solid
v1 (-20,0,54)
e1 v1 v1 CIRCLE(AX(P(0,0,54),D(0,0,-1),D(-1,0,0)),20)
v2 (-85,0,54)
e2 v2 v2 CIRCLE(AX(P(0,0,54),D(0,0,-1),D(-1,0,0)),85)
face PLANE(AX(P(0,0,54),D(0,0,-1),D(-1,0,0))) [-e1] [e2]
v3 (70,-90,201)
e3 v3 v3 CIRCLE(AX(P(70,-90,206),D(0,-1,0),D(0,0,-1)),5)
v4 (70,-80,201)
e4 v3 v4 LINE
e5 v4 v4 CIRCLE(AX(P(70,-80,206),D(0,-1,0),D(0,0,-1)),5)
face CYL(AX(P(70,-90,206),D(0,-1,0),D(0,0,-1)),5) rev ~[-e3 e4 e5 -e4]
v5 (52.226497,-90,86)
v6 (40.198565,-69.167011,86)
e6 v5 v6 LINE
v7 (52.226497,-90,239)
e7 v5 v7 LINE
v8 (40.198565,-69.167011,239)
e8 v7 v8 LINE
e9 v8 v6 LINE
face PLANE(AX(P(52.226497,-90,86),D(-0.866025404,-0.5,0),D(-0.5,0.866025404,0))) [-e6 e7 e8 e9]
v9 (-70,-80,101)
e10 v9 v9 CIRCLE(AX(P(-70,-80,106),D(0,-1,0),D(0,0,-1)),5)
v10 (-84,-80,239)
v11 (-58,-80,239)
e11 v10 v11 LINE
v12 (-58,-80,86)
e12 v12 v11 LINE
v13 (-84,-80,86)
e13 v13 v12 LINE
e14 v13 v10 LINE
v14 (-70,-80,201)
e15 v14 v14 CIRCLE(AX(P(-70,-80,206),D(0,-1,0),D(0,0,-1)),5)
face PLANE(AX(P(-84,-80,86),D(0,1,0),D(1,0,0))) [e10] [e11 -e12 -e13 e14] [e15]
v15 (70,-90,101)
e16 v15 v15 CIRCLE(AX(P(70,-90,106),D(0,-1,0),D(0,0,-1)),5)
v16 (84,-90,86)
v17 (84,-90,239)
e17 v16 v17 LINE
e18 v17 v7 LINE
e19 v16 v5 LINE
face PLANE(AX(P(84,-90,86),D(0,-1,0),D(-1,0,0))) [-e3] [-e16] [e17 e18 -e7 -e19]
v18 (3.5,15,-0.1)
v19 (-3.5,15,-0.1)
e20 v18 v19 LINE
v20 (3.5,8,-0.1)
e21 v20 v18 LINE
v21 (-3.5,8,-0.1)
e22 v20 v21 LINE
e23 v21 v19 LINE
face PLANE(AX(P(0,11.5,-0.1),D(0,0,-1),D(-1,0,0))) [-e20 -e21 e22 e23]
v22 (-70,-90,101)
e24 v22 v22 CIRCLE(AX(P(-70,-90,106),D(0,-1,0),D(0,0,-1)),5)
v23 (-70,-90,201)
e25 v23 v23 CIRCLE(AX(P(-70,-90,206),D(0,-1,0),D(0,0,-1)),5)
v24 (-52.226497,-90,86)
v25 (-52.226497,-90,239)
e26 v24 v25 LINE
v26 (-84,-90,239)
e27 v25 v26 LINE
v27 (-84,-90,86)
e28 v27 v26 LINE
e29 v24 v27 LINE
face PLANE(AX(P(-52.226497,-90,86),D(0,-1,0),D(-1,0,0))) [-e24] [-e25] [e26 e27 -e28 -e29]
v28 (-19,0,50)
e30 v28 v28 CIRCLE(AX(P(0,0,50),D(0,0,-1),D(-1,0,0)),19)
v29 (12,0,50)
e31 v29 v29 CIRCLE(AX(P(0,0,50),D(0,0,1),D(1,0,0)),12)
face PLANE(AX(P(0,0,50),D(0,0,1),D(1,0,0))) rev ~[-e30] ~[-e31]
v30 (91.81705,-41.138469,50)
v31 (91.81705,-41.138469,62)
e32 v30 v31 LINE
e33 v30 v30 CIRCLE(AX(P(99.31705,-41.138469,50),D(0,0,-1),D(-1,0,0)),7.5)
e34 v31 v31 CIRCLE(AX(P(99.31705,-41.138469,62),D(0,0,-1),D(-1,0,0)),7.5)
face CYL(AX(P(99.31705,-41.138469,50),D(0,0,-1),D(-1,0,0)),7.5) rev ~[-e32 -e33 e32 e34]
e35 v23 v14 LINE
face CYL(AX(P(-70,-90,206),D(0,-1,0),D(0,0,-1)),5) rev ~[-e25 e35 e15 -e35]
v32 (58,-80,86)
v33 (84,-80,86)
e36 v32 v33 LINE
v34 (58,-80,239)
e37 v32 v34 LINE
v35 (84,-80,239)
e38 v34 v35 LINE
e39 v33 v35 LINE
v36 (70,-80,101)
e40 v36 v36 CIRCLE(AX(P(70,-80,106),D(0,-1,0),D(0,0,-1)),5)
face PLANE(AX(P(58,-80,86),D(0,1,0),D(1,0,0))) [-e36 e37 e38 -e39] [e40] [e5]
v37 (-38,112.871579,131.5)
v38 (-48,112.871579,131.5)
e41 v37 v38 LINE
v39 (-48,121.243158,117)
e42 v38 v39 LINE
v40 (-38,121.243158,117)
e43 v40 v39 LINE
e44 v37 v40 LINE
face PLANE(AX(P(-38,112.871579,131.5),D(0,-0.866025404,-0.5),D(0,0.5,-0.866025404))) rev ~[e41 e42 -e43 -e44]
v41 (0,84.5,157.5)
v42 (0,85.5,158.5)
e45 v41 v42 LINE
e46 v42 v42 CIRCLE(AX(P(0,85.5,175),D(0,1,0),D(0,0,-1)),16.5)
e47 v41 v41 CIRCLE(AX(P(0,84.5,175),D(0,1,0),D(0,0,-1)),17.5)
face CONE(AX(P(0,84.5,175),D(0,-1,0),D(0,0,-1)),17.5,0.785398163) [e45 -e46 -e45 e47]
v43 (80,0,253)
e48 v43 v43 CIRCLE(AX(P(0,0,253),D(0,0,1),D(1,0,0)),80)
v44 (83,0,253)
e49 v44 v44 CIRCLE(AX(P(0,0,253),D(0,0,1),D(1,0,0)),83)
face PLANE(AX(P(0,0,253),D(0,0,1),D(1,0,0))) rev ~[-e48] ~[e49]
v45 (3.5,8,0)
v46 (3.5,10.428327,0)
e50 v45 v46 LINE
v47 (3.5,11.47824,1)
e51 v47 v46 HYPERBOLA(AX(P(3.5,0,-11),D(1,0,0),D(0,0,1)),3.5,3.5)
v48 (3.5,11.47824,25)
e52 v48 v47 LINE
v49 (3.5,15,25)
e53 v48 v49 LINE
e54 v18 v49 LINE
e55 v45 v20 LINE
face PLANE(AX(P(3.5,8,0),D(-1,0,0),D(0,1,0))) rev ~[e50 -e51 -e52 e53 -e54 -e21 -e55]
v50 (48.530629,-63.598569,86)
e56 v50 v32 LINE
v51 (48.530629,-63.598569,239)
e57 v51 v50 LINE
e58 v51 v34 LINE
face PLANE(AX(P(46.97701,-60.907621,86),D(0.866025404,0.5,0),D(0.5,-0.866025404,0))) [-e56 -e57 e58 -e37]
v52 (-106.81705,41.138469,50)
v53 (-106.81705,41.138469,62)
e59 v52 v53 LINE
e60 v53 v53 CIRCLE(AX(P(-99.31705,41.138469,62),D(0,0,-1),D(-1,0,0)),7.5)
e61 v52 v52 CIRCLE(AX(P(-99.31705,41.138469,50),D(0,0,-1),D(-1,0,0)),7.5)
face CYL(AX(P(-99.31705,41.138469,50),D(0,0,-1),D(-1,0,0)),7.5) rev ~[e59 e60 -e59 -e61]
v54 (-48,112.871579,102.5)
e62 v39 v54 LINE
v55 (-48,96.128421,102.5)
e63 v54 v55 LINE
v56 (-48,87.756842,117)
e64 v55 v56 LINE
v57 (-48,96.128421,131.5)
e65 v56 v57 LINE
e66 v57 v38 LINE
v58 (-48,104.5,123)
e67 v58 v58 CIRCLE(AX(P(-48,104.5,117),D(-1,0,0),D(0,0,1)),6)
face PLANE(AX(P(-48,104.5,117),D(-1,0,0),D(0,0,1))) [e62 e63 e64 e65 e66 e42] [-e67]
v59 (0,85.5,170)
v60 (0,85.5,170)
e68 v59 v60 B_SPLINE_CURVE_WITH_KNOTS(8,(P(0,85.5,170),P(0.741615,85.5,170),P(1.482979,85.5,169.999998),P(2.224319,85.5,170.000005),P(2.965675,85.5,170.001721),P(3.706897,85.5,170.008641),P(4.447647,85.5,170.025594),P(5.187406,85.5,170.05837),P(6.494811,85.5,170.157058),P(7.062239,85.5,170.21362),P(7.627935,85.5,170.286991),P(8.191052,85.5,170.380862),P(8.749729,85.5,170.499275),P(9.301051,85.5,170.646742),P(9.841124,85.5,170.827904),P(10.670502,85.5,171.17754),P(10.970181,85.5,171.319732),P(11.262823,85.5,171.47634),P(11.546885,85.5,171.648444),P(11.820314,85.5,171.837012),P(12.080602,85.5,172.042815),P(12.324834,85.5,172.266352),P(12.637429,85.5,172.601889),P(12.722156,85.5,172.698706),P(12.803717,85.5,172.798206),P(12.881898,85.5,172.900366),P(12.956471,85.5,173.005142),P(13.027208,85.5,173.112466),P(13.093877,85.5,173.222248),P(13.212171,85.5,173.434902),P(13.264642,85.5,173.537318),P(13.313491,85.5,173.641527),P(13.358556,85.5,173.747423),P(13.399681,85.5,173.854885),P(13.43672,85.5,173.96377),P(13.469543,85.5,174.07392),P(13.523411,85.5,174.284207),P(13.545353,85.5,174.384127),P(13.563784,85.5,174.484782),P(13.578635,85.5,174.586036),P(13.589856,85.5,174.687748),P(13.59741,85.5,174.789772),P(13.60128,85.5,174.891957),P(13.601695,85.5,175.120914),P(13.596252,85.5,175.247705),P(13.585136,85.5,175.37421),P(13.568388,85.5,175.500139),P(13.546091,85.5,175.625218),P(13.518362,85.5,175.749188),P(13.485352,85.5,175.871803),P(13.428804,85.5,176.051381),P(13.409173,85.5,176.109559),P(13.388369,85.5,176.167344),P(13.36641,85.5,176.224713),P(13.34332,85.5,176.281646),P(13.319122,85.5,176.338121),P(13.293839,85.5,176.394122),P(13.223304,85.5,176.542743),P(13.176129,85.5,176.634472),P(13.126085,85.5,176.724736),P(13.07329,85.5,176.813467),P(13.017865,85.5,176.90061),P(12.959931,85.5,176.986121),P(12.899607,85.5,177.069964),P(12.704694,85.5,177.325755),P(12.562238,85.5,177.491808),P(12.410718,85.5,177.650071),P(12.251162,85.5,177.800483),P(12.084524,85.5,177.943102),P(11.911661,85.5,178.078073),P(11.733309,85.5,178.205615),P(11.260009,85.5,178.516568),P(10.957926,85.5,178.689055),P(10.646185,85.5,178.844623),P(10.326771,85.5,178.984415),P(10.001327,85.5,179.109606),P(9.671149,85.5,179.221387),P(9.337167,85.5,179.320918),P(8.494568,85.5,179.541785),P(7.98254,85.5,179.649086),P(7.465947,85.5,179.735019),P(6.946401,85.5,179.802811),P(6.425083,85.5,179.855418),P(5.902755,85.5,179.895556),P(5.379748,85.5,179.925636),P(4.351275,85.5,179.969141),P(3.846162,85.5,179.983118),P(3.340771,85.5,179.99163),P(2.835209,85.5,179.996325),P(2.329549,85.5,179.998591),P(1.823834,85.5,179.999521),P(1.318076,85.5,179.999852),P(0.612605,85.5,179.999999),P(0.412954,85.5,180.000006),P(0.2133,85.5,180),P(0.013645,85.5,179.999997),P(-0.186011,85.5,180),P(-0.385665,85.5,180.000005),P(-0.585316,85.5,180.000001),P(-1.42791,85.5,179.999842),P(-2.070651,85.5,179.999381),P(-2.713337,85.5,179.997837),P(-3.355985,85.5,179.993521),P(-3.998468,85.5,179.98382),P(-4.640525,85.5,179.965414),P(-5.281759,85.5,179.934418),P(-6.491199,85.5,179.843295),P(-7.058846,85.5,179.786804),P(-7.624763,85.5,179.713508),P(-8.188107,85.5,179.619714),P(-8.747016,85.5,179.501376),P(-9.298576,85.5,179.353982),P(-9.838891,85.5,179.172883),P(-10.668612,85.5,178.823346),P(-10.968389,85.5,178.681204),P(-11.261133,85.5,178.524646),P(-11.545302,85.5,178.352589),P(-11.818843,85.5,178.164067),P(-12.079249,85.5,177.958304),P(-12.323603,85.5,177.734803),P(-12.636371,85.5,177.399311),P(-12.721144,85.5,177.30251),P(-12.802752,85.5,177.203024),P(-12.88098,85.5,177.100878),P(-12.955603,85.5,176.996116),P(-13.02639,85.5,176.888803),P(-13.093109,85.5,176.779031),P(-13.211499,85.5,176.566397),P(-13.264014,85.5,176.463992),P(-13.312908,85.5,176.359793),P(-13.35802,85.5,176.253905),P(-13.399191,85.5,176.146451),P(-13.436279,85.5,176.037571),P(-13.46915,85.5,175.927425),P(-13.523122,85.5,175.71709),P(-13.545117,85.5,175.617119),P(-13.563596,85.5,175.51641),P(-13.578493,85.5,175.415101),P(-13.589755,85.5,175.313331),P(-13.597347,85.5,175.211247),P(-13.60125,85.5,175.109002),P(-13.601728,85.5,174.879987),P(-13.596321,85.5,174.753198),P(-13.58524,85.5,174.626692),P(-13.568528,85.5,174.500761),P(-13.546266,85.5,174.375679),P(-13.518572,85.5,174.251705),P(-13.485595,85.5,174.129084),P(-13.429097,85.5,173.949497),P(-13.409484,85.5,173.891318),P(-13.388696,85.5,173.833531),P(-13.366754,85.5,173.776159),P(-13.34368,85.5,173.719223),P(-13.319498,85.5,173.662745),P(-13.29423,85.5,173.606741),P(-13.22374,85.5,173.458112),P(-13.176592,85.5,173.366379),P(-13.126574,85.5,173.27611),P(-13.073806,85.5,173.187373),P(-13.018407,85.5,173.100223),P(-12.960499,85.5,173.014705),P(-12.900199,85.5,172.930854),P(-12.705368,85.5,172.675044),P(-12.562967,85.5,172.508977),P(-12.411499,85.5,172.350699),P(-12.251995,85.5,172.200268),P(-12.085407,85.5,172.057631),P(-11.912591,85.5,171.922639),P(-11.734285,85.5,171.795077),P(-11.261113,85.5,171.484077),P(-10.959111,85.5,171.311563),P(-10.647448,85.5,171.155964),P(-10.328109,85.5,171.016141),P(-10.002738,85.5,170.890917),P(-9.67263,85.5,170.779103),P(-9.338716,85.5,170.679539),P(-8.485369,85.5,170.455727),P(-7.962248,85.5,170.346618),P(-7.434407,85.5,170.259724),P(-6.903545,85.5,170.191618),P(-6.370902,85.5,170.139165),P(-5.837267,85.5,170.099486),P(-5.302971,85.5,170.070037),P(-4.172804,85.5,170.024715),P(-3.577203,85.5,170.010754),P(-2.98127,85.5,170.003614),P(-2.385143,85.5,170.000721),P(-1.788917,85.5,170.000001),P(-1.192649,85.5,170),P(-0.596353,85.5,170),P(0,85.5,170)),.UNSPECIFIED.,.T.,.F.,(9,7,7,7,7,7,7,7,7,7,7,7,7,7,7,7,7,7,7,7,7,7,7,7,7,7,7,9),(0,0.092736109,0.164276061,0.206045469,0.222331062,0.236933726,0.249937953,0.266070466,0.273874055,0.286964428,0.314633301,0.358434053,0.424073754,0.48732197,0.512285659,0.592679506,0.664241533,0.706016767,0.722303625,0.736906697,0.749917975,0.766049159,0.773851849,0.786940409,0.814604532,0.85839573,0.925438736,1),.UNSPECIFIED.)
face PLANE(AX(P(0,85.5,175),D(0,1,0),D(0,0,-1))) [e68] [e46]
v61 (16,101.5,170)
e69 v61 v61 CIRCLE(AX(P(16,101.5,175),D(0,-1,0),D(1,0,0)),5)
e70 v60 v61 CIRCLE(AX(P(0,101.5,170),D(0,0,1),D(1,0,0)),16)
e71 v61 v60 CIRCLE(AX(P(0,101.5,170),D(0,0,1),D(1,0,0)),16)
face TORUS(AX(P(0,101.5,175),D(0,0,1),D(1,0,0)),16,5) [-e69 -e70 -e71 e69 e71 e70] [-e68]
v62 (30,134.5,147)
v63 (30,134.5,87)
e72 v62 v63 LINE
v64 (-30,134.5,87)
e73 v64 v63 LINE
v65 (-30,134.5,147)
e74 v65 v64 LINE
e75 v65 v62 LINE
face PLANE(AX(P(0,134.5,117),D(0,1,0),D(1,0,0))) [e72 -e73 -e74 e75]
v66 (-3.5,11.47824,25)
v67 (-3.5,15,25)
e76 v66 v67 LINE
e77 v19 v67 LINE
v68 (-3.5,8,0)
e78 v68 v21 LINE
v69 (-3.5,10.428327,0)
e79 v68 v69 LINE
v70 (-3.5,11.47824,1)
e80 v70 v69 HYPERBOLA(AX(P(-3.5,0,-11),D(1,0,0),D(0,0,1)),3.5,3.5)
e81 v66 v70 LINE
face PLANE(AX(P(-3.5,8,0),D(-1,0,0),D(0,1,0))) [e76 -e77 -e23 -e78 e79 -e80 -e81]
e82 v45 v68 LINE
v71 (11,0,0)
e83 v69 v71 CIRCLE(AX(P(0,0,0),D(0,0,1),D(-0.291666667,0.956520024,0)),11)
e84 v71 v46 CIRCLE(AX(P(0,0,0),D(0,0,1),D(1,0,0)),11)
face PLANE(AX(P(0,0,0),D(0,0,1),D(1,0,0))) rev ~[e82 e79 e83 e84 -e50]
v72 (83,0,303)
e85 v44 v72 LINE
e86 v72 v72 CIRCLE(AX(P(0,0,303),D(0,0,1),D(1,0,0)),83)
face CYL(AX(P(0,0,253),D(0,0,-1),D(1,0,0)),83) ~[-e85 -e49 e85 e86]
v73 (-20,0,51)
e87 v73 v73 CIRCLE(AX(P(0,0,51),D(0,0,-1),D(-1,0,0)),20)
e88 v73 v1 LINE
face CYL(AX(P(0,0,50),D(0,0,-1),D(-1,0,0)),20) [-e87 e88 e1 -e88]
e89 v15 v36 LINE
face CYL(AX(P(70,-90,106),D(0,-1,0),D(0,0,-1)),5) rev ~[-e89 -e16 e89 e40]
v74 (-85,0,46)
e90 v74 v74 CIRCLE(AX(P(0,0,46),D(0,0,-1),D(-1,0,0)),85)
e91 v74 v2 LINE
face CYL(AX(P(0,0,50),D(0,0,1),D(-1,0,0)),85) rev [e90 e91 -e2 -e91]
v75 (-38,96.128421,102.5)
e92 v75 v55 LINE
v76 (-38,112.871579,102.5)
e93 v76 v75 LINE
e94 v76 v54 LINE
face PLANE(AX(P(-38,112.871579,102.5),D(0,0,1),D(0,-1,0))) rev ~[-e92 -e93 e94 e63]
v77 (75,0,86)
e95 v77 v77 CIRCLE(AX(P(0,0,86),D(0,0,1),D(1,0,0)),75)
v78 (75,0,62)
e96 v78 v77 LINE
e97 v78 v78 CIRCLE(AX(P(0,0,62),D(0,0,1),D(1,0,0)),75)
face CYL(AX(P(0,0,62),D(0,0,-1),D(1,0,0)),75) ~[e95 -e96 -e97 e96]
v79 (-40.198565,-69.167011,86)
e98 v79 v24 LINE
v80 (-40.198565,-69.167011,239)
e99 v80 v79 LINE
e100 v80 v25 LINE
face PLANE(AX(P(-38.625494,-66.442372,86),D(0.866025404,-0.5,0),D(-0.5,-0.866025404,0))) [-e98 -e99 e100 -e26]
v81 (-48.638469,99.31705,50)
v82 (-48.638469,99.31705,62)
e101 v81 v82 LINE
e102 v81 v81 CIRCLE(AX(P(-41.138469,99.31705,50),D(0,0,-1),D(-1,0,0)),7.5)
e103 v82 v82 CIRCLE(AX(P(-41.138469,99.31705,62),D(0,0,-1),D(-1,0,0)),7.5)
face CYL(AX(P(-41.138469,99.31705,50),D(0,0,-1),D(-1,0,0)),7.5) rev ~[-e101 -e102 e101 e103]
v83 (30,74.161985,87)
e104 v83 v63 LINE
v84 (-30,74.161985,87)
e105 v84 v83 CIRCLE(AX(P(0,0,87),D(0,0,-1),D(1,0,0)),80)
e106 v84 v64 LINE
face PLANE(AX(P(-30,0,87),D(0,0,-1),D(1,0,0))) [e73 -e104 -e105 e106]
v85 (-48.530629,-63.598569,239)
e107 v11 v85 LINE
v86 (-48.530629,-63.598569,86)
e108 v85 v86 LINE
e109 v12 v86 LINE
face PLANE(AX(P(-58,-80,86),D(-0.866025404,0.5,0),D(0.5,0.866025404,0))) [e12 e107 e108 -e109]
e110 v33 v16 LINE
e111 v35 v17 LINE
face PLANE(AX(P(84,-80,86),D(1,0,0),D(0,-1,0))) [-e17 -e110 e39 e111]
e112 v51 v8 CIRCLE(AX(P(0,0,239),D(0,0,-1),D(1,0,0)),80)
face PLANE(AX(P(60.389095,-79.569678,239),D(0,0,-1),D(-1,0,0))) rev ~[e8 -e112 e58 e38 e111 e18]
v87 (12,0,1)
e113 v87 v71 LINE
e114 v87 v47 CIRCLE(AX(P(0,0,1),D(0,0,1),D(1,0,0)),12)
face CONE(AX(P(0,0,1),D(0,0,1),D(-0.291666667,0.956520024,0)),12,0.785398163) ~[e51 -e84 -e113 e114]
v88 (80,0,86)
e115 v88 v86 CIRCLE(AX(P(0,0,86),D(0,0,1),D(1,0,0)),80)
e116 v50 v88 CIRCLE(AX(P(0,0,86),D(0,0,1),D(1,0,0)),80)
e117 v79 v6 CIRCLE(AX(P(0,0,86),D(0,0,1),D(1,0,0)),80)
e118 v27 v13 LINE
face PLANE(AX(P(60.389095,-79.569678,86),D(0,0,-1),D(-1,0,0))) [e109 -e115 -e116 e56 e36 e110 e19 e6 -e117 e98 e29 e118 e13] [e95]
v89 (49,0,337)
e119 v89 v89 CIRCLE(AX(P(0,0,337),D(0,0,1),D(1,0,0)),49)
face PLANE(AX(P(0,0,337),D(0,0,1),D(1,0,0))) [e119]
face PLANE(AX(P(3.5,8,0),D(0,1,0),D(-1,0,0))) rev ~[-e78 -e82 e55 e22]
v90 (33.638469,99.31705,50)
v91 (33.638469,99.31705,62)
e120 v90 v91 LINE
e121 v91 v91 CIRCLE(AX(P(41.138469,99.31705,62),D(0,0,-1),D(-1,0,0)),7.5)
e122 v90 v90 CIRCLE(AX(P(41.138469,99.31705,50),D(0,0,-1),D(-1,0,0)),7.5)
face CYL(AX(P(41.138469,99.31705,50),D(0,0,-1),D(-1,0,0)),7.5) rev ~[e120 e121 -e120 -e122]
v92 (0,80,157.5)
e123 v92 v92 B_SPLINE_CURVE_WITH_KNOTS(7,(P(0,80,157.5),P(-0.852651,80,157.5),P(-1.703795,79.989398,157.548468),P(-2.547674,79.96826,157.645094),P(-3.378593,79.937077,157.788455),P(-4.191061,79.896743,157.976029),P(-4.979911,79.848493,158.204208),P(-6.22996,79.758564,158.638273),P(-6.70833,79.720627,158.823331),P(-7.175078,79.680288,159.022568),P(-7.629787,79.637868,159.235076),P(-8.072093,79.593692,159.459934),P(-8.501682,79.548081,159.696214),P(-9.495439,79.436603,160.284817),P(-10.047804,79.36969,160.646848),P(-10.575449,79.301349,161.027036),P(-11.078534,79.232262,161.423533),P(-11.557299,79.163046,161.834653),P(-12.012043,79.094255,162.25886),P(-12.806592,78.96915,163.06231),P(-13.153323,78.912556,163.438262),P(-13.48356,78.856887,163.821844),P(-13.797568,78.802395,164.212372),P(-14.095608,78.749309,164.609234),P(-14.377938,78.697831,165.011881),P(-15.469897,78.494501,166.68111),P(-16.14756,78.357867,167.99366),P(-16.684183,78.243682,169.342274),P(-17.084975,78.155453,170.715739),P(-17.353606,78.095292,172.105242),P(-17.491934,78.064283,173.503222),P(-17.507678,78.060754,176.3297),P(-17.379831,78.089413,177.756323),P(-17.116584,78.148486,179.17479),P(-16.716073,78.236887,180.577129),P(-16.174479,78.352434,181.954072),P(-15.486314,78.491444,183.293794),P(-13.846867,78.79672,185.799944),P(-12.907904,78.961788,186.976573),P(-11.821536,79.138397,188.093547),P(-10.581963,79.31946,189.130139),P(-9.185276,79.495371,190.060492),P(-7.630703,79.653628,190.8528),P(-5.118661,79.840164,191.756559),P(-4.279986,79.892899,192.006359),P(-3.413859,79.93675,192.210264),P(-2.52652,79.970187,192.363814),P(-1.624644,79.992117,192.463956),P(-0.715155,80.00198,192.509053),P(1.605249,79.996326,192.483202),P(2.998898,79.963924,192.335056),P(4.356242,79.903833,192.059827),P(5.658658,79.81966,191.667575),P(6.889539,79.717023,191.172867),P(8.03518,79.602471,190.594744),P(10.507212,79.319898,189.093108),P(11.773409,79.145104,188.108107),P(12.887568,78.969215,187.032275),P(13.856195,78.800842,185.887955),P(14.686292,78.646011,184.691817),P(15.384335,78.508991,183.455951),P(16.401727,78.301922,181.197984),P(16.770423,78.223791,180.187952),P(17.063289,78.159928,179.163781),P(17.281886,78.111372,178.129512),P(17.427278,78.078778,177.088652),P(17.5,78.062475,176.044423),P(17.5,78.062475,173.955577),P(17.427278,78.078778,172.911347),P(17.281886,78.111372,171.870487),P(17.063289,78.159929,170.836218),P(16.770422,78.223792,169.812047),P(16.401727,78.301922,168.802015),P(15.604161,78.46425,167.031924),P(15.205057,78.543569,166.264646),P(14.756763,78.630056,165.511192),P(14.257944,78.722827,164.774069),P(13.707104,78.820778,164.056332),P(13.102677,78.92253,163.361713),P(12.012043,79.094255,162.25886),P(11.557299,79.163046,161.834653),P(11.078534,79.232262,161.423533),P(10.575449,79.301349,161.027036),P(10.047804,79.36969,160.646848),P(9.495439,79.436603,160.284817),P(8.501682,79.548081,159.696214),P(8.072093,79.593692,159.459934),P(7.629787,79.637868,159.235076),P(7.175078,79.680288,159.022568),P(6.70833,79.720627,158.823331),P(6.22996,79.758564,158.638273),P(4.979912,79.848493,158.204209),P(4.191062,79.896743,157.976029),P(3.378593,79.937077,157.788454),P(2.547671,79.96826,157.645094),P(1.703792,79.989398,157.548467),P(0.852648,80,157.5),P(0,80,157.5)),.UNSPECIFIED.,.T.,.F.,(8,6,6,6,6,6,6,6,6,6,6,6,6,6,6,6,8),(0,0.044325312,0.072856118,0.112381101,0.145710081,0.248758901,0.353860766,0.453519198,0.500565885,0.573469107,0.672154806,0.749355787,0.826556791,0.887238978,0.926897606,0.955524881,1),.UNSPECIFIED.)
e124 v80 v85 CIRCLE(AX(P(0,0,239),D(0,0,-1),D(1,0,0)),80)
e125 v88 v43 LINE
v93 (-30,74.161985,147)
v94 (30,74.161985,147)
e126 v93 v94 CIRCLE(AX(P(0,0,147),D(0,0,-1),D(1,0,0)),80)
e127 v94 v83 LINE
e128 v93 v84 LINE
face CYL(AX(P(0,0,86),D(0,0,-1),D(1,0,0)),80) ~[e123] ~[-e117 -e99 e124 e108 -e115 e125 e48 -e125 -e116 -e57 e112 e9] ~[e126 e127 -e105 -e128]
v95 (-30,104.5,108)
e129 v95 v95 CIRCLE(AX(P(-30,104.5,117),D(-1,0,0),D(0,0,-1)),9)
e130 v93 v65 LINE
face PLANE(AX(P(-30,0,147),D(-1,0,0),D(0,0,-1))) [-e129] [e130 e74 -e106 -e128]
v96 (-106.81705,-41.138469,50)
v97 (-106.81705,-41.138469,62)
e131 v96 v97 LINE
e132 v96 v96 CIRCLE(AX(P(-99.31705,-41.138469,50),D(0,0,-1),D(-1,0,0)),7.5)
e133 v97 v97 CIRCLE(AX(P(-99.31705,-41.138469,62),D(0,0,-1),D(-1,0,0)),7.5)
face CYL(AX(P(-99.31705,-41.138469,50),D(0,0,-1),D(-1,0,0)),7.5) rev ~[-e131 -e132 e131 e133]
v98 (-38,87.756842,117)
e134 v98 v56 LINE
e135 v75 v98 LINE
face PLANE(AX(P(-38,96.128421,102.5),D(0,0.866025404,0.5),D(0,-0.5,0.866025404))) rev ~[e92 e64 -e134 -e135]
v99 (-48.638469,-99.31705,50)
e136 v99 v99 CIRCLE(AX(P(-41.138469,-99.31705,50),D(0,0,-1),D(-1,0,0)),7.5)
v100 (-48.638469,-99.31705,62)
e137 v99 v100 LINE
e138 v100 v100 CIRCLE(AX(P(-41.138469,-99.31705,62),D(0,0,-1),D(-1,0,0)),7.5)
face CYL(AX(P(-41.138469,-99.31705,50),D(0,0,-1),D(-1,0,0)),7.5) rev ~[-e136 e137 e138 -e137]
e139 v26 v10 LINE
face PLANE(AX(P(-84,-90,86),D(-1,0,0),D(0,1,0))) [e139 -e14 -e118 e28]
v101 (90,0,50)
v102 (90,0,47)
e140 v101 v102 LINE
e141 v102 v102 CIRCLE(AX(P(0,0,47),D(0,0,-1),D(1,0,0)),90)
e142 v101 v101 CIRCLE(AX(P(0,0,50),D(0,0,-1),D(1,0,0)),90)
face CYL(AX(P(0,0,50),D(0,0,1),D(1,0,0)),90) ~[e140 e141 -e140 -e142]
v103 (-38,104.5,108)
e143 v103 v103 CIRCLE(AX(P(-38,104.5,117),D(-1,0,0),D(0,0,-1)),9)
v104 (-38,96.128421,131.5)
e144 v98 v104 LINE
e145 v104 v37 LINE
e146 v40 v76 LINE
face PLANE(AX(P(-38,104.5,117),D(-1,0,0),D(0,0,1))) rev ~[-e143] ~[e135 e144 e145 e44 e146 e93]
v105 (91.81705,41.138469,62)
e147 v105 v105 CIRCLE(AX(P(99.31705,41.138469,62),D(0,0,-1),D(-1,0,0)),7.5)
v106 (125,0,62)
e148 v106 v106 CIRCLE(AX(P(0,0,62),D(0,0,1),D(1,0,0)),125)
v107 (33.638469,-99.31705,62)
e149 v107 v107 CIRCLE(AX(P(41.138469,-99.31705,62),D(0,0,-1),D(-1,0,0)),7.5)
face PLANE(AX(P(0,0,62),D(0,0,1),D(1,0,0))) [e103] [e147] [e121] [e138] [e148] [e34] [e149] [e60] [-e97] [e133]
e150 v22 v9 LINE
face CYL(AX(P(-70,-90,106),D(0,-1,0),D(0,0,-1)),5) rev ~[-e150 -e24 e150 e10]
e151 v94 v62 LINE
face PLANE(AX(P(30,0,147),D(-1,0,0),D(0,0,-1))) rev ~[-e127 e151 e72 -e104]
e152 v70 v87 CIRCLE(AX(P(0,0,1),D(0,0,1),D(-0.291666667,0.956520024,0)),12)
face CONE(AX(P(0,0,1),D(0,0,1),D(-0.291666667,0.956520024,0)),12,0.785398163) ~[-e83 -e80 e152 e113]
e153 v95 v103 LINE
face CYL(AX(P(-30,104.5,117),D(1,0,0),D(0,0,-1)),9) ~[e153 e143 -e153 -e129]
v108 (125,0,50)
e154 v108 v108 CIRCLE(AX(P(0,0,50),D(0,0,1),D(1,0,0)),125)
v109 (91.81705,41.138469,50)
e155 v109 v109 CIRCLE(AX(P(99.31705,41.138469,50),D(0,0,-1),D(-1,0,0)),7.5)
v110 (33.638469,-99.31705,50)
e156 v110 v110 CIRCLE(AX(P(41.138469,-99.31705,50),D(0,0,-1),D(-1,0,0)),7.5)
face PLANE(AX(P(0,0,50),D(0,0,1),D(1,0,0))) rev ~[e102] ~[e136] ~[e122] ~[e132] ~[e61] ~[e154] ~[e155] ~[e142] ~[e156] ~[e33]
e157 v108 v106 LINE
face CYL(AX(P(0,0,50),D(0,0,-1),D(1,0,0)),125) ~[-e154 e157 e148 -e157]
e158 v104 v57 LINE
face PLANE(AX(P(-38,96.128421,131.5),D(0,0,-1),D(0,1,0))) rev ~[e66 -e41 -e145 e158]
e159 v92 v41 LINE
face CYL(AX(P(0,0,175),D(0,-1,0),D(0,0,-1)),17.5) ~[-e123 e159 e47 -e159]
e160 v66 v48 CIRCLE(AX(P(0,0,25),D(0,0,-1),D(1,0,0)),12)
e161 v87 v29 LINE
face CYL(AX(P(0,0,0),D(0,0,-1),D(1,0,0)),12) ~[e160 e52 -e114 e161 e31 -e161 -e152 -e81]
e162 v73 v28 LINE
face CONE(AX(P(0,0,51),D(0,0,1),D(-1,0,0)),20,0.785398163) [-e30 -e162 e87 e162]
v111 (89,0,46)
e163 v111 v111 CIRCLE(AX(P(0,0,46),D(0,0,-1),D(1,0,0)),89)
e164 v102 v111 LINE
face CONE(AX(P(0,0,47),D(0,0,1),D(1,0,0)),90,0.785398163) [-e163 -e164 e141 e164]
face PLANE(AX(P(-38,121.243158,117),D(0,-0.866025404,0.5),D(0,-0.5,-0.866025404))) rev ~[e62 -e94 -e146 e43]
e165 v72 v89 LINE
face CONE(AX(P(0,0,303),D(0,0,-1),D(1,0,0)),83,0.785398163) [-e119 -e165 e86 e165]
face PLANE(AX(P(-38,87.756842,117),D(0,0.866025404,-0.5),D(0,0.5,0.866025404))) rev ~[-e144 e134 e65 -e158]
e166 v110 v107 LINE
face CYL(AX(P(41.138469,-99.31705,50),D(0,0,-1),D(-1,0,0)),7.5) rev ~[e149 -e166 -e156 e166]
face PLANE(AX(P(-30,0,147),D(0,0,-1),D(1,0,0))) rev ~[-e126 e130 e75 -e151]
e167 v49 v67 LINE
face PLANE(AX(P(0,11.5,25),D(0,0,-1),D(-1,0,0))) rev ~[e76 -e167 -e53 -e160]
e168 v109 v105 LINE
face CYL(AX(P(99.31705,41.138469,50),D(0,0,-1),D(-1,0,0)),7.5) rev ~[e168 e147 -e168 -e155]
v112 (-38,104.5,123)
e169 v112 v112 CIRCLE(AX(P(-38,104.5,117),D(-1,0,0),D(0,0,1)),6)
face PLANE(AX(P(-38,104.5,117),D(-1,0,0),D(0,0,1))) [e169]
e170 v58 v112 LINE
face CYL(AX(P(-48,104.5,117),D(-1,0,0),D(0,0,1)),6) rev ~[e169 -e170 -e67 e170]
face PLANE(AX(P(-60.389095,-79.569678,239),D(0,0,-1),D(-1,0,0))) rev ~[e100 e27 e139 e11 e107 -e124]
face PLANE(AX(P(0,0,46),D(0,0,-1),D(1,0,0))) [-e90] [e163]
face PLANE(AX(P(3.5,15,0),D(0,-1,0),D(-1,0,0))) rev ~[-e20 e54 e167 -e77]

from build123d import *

# Parameters (mm, degrees)
SKETCH_1_R           = 12
EXTRUDE_1_DEPTH      = 50
SKETCH_2_W           = 7
SKETCH_2_H           = 7
EXTRUDE_2_DEPTH      = 0.1
EXTRUDE_2_DEPTH_BACK = 25
SKETCH_3_R           = 125
EXTRUDE_3_DEPTH      = 12
SKETCH_4_R           = 90
SKETCH_4_R_2         = 85
EXTRUDE_4_DEPTH      = 4
SKETCH_5_R           = 85
SKETCH_5_R_2         = 20
CUT_EXTRUDE_1_DEPTH  = 4
CHAMFER_1_SIZE       = 1
SKETCH_6_R           = 7.5
CUT_EXTRUDE_2_DEPTH  = 13
SKETCH_7_R           = 75
EXTRUDE_5_DEPTH      = 24
SKETCH_8_R           = 80
EXTRUDE_6_DEPTH      = 167
SKETCH_9_R           = 83
EXTRUDE_7_DEPTH      = 84
CHAMFER_2_SIZE       = 34
EXTRUDE_8_DEPTH      = 153
CUT_EXTRUDE_3_REACH  = 217
SKETCH_11_R          = 5
SKETCH_12_W          = 60
SKETCH_12_H          = 60
EXTRUDE_9_DEPTH      = 134.5
SKETCH_13_R          = 17.5
EXTRUDE_10_DEPTH     = 85.5
CHAMFER_3_SIZE       = 1
SKETCH_15_R          = 5
SKETCH_16_R          = 9
EXTRUDE_11_DEPTH     = 8
EXTRUDE_12_DEPTH     = 10
SKETCH_18_R          = 6
CUT_EXTRUDE_4_DEPTH  = 10


with BuildPart() as part:
    # Эскиз1 → Вытянуть1 (new body)
    with BuildSketch(Plane.XY):
        Circle(SKETCH_1_R)
    extrude(amount=EXTRUDE_1_DEPTH)

    # Эскиз2 → Вытянуть2 (add, two sides)
    with BuildSketch(Plane(origin=(0, 0, 0), x_dir=(-1, 0, 0), z_dir=(0, 0, -1))) as extrude_2_sk:
        with Locations((0, 11.5)):
            Rectangle(SKETCH_2_W, SKETCH_2_H)
    extrude(amount=EXTRUDE_2_DEPTH)
    extrude(extrude_2_sk.sketch, amount=-EXTRUDE_2_DEPTH_BACK)

    # Эскиз3 → Вытянуть3 (add)
    with BuildSketch(Plane.XY.offset(50)):
        Circle(SKETCH_3_R)
    extrude(amount=EXTRUDE_3_DEPTH)

    # Эскиз4 → Вытянуть4 (add)
    with BuildSketch(Plane(origin=(0, 0, 50), x_dir=(-1, 0, 0), z_dir=(0, 0, -1))):
        with Locations(Location((0, 0, 0), (0, 0, 180))):  # turned: the seam where the file's is
            Circle(SKETCH_4_R)
        Circle(SKETCH_4_R_2, mode=Mode.SUBTRACT)
    extrude(amount=EXTRUDE_4_DEPTH)

    # Эскиз5 → Вырез-Вытянуть1 (cut)
    with BuildSketch(Plane(origin=(0, 0, 50), x_dir=(-1, 0, 0), z_dir=(0, 0, -1))):
        Circle(SKETCH_5_R)
        Circle(SKETCH_5_R_2, mode=Mode.SUBTRACT)
    extrude(amount=-CUT_EXTRUDE_1_DEPTH, mode=Mode.SUBTRACT)

    # Фаска1
    chamfer_1_edges = [part.edges().sort_by_distance(p)[0] for p in [
        (-90, 0, 46),
        (20, 0, 50),
        (-7.141428429, -9.643650761, 0),
    ]]
    chamfer(chamfer_1_edges, length=CHAMFER_1_SIZE)

    # Эскиз6 → Вырез-Вытянуть2 (cut, through all)
    with BuildSketch(Plane(origin=(0, 0, 50), x_dir=(-1, 0, 0), z_dir=(0, 0, -1))):
        with Locations((-41.138468979, 99.317049745)):
            Circle(SKETCH_6_R)
        with Locations((41.138468979, 99.317049745)):
            Circle(SKETCH_6_R)
        with Locations((99.317049745, 41.138468979)):
            Circle(SKETCH_6_R)
        with Locations((99.317049745, -41.138468979)):
            Circle(SKETCH_6_R)
        with Locations((41.138468979, -99.317049745)):
            Circle(SKETCH_6_R)
        with Locations((-41.138468979, -99.317049745)):
            Circle(SKETCH_6_R)
        with Locations((-99.317049745, -41.138468979)):
            Circle(SKETCH_6_R)
        with Locations((-99.317049745, 41.138468979)):
            Circle(SKETCH_6_R)
    extrude(amount=-CUT_EXTRUDE_2_DEPTH, mode=Mode.SUBTRACT)

    # Эскиз7 → Вытянуть5 (add)
    with BuildSketch(Plane.XY.offset(62)):
        Circle(SKETCH_7_R)
    extrude(amount=EXTRUDE_5_DEPTH)

    # Эскиз8 → Вытянуть6 (add)
    with BuildSketch(Plane.XY.offset(86)):
        Circle(SKETCH_8_R)
    extrude(amount=EXTRUDE_6_DEPTH)

    # Эскиз9 → Вытянуть7 (add)
    with BuildSketch(Plane.XY.offset(253)):
        Circle(SKETCH_9_R)
    extrude(amount=EXTRUDE_7_DEPTH)

    # Фаска2
    chamfer_2_edges = [part.edges().sort_by_distance(p)[0] for p in [
        (-83, 0, 337),
    ]]
    chamfer(chamfer_2_edges, length=CHAMFER_2_SIZE)

    # Эскиз10 → Вытянуть8 (add)
    with BuildSketch(Plane(origin=(0, 0, 86), x_dir=(-1, 0, 0), z_dir=(0, 0, -1))):
        Polygon((-84, -90), (-52.226497308, -90), (-38.625494231, -66.442371637), (-46.977009654, -60.90762067), (-58, -80), (-84, -80), align=None)
        Polygon((84, -90), (84, -80), (58, -80), (46.977009654, -60.90762067), (38.625494231, -66.442371637), (52.226497308, -90), align=None)
    extrude(amount=-EXTRUDE_8_DEPTH)

    # Эскиз11 → Вырез-Вытянуть3 (cut, up to next)
    with BuildSketch(Plane.XZ.offset(90), mode=Mode.PRIVATE) as cut_extrude_3_sk1:
        with Locations(Location((-70, 106, 0), (0, 0, 270))):  # turned: the seam where the file's is
            Circle(SKETCH_11_R)
    cut_extrude_3_tool1 = extrude(cut_extrude_3_sk1.sketch, amount=-CUT_EXTRUDE_3_REACH, mode=Mode.PRIVATE) & part.part
    add(cut_extrude_3_tool1.solids().sort_by_distance((-70, -90, 106))[0], mode=Mode.SUBTRACT)
    # Эскиз11 → Вырез-Вытянуть3 (cut, up to next)
    with BuildSketch(Plane.XZ.offset(90), mode=Mode.PRIVATE) as cut_extrude_3_sk2:
        with Locations(Location((70, 106, 0), (0, 0, 270))):  # turned: the seam where the file's is
            Circle(SKETCH_11_R)
    cut_extrude_3_tool2 = extrude(cut_extrude_3_sk2.sketch, amount=-CUT_EXTRUDE_3_REACH, mode=Mode.PRIVATE) & part.part
    add(cut_extrude_3_tool2.solids().sort_by_distance((70, -90, 106))[0], mode=Mode.SUBTRACT)
    # Эскиз11 → Вырез-Вытянуть3 (cut, up to next)
    with BuildSketch(Plane.XZ.offset(90), mode=Mode.PRIVATE) as cut_extrude_3_sk3:
        with Locations(Location((-70, 206, 0), (0, 0, 270))):  # turned: the seam where the file's is
            Circle(SKETCH_11_R)
    cut_extrude_3_tool3 = extrude(cut_extrude_3_sk3.sketch, amount=-CUT_EXTRUDE_3_REACH, mode=Mode.PRIVATE) & part.part
    add(cut_extrude_3_tool3.solids().sort_by_distance((-70, -90, 206))[0], mode=Mode.SUBTRACT)
    # Эскиз11 → Вырез-Вытянуть3 (cut, up to next)
    with BuildSketch(Plane.XZ.offset(90), mode=Mode.PRIVATE) as cut_extrude_3_sk4:
        with Locations(Location((70, 206, 0), (0, 0, 270))):  # turned: the seam where the file's is
            Circle(SKETCH_11_R)
    cut_extrude_3_tool4 = extrude(cut_extrude_3_sk4.sketch, amount=-CUT_EXTRUDE_3_REACH, mode=Mode.PRIVATE) & part.part
    add(cut_extrude_3_tool4.solids().sort_by_distance((70, -90, 206))[0], mode=Mode.SUBTRACT)

    # Эскиз12 → Вытянуть9 (add)
    with BuildSketch(Plane(origin=(0, 0, 0), x_dir=(1, 0, 0), z_dir=(0, 1, 0))):
        with Locations((0, -117)):
            Rectangle(SKETCH_12_W, SKETCH_12_H)
    extrude(amount=EXTRUDE_9_DEPTH)

    # Эскиз13 → Вытянуть10 (add)
    with BuildSketch(Plane(origin=(0, 0, 0), x_dir=(1, 0, 0), z_dir=(0, 1, 0))):
        with Locations(Location((0, -175, 0), (0, 0, 90))):  # turned: the seam where the file's is
            Circle(SKETCH_13_R)
    extrude(amount=EXTRUDE_10_DEPTH)

    # Фаска3
    chamfer_3_edges = [part.edges().sort_by_distance(p)[0] for p in [
        (0, 85.5, 192.5),
    ]]
    chamfer(chamfer_3_edges, length=CHAMFER_3_SIZE)

    # По траектории1: sweep along a path in Эскиз14
    with BuildLine(Plane.XY.offset(175)) as sweep_1_path:
        CenterArc((0, 101.5), 16, 0, 360)
    # Эскиз15 → По траектории1 (sweep)
    with BuildSketch(Plane(origin=(0, 0, 0), x_dir=(0, 0, -1), z_dir=(1, 0, 0))):
        with Locations((-175, 117.5)):
            Circle(SKETCH_15_R)
    sweep(path=sweep_1_path.line)

    # Эскиз16 → Вытянуть11 (add)
    with BuildSketch(Plane.ZY.offset(30)):
        with Locations(Location((117, 104.5, 0), (0, 0, 180))):  # turned: the seam where the file's is
            Circle(SKETCH_16_R)
    extrude(amount=EXTRUDE_11_DEPTH)

    # Эскиз17 → Вытянуть12 (add)
    with BuildSketch(Plane.ZY.offset(38)):
        Polygon((117, 121.243157806), (102.5, 112.871578903), (102.5, 96.128421097), (117, 87.756842194), (131.5, 96.128421097), (131.5, 112.871578903), align=None)
    extrude(amount=EXTRUDE_12_DEPTH)

    # Эскиз18 → Вырез-Вытянуть4 (cut)
    with BuildSketch(Plane.ZY.offset(48)):
        with Locations((117, 104.5)):
            Circle(SKETCH_18_R)
    extrude(amount=-CUT_EXTRUDE_4_DEPTH, mode=Mode.SUBTRACT)


solid = part.part
